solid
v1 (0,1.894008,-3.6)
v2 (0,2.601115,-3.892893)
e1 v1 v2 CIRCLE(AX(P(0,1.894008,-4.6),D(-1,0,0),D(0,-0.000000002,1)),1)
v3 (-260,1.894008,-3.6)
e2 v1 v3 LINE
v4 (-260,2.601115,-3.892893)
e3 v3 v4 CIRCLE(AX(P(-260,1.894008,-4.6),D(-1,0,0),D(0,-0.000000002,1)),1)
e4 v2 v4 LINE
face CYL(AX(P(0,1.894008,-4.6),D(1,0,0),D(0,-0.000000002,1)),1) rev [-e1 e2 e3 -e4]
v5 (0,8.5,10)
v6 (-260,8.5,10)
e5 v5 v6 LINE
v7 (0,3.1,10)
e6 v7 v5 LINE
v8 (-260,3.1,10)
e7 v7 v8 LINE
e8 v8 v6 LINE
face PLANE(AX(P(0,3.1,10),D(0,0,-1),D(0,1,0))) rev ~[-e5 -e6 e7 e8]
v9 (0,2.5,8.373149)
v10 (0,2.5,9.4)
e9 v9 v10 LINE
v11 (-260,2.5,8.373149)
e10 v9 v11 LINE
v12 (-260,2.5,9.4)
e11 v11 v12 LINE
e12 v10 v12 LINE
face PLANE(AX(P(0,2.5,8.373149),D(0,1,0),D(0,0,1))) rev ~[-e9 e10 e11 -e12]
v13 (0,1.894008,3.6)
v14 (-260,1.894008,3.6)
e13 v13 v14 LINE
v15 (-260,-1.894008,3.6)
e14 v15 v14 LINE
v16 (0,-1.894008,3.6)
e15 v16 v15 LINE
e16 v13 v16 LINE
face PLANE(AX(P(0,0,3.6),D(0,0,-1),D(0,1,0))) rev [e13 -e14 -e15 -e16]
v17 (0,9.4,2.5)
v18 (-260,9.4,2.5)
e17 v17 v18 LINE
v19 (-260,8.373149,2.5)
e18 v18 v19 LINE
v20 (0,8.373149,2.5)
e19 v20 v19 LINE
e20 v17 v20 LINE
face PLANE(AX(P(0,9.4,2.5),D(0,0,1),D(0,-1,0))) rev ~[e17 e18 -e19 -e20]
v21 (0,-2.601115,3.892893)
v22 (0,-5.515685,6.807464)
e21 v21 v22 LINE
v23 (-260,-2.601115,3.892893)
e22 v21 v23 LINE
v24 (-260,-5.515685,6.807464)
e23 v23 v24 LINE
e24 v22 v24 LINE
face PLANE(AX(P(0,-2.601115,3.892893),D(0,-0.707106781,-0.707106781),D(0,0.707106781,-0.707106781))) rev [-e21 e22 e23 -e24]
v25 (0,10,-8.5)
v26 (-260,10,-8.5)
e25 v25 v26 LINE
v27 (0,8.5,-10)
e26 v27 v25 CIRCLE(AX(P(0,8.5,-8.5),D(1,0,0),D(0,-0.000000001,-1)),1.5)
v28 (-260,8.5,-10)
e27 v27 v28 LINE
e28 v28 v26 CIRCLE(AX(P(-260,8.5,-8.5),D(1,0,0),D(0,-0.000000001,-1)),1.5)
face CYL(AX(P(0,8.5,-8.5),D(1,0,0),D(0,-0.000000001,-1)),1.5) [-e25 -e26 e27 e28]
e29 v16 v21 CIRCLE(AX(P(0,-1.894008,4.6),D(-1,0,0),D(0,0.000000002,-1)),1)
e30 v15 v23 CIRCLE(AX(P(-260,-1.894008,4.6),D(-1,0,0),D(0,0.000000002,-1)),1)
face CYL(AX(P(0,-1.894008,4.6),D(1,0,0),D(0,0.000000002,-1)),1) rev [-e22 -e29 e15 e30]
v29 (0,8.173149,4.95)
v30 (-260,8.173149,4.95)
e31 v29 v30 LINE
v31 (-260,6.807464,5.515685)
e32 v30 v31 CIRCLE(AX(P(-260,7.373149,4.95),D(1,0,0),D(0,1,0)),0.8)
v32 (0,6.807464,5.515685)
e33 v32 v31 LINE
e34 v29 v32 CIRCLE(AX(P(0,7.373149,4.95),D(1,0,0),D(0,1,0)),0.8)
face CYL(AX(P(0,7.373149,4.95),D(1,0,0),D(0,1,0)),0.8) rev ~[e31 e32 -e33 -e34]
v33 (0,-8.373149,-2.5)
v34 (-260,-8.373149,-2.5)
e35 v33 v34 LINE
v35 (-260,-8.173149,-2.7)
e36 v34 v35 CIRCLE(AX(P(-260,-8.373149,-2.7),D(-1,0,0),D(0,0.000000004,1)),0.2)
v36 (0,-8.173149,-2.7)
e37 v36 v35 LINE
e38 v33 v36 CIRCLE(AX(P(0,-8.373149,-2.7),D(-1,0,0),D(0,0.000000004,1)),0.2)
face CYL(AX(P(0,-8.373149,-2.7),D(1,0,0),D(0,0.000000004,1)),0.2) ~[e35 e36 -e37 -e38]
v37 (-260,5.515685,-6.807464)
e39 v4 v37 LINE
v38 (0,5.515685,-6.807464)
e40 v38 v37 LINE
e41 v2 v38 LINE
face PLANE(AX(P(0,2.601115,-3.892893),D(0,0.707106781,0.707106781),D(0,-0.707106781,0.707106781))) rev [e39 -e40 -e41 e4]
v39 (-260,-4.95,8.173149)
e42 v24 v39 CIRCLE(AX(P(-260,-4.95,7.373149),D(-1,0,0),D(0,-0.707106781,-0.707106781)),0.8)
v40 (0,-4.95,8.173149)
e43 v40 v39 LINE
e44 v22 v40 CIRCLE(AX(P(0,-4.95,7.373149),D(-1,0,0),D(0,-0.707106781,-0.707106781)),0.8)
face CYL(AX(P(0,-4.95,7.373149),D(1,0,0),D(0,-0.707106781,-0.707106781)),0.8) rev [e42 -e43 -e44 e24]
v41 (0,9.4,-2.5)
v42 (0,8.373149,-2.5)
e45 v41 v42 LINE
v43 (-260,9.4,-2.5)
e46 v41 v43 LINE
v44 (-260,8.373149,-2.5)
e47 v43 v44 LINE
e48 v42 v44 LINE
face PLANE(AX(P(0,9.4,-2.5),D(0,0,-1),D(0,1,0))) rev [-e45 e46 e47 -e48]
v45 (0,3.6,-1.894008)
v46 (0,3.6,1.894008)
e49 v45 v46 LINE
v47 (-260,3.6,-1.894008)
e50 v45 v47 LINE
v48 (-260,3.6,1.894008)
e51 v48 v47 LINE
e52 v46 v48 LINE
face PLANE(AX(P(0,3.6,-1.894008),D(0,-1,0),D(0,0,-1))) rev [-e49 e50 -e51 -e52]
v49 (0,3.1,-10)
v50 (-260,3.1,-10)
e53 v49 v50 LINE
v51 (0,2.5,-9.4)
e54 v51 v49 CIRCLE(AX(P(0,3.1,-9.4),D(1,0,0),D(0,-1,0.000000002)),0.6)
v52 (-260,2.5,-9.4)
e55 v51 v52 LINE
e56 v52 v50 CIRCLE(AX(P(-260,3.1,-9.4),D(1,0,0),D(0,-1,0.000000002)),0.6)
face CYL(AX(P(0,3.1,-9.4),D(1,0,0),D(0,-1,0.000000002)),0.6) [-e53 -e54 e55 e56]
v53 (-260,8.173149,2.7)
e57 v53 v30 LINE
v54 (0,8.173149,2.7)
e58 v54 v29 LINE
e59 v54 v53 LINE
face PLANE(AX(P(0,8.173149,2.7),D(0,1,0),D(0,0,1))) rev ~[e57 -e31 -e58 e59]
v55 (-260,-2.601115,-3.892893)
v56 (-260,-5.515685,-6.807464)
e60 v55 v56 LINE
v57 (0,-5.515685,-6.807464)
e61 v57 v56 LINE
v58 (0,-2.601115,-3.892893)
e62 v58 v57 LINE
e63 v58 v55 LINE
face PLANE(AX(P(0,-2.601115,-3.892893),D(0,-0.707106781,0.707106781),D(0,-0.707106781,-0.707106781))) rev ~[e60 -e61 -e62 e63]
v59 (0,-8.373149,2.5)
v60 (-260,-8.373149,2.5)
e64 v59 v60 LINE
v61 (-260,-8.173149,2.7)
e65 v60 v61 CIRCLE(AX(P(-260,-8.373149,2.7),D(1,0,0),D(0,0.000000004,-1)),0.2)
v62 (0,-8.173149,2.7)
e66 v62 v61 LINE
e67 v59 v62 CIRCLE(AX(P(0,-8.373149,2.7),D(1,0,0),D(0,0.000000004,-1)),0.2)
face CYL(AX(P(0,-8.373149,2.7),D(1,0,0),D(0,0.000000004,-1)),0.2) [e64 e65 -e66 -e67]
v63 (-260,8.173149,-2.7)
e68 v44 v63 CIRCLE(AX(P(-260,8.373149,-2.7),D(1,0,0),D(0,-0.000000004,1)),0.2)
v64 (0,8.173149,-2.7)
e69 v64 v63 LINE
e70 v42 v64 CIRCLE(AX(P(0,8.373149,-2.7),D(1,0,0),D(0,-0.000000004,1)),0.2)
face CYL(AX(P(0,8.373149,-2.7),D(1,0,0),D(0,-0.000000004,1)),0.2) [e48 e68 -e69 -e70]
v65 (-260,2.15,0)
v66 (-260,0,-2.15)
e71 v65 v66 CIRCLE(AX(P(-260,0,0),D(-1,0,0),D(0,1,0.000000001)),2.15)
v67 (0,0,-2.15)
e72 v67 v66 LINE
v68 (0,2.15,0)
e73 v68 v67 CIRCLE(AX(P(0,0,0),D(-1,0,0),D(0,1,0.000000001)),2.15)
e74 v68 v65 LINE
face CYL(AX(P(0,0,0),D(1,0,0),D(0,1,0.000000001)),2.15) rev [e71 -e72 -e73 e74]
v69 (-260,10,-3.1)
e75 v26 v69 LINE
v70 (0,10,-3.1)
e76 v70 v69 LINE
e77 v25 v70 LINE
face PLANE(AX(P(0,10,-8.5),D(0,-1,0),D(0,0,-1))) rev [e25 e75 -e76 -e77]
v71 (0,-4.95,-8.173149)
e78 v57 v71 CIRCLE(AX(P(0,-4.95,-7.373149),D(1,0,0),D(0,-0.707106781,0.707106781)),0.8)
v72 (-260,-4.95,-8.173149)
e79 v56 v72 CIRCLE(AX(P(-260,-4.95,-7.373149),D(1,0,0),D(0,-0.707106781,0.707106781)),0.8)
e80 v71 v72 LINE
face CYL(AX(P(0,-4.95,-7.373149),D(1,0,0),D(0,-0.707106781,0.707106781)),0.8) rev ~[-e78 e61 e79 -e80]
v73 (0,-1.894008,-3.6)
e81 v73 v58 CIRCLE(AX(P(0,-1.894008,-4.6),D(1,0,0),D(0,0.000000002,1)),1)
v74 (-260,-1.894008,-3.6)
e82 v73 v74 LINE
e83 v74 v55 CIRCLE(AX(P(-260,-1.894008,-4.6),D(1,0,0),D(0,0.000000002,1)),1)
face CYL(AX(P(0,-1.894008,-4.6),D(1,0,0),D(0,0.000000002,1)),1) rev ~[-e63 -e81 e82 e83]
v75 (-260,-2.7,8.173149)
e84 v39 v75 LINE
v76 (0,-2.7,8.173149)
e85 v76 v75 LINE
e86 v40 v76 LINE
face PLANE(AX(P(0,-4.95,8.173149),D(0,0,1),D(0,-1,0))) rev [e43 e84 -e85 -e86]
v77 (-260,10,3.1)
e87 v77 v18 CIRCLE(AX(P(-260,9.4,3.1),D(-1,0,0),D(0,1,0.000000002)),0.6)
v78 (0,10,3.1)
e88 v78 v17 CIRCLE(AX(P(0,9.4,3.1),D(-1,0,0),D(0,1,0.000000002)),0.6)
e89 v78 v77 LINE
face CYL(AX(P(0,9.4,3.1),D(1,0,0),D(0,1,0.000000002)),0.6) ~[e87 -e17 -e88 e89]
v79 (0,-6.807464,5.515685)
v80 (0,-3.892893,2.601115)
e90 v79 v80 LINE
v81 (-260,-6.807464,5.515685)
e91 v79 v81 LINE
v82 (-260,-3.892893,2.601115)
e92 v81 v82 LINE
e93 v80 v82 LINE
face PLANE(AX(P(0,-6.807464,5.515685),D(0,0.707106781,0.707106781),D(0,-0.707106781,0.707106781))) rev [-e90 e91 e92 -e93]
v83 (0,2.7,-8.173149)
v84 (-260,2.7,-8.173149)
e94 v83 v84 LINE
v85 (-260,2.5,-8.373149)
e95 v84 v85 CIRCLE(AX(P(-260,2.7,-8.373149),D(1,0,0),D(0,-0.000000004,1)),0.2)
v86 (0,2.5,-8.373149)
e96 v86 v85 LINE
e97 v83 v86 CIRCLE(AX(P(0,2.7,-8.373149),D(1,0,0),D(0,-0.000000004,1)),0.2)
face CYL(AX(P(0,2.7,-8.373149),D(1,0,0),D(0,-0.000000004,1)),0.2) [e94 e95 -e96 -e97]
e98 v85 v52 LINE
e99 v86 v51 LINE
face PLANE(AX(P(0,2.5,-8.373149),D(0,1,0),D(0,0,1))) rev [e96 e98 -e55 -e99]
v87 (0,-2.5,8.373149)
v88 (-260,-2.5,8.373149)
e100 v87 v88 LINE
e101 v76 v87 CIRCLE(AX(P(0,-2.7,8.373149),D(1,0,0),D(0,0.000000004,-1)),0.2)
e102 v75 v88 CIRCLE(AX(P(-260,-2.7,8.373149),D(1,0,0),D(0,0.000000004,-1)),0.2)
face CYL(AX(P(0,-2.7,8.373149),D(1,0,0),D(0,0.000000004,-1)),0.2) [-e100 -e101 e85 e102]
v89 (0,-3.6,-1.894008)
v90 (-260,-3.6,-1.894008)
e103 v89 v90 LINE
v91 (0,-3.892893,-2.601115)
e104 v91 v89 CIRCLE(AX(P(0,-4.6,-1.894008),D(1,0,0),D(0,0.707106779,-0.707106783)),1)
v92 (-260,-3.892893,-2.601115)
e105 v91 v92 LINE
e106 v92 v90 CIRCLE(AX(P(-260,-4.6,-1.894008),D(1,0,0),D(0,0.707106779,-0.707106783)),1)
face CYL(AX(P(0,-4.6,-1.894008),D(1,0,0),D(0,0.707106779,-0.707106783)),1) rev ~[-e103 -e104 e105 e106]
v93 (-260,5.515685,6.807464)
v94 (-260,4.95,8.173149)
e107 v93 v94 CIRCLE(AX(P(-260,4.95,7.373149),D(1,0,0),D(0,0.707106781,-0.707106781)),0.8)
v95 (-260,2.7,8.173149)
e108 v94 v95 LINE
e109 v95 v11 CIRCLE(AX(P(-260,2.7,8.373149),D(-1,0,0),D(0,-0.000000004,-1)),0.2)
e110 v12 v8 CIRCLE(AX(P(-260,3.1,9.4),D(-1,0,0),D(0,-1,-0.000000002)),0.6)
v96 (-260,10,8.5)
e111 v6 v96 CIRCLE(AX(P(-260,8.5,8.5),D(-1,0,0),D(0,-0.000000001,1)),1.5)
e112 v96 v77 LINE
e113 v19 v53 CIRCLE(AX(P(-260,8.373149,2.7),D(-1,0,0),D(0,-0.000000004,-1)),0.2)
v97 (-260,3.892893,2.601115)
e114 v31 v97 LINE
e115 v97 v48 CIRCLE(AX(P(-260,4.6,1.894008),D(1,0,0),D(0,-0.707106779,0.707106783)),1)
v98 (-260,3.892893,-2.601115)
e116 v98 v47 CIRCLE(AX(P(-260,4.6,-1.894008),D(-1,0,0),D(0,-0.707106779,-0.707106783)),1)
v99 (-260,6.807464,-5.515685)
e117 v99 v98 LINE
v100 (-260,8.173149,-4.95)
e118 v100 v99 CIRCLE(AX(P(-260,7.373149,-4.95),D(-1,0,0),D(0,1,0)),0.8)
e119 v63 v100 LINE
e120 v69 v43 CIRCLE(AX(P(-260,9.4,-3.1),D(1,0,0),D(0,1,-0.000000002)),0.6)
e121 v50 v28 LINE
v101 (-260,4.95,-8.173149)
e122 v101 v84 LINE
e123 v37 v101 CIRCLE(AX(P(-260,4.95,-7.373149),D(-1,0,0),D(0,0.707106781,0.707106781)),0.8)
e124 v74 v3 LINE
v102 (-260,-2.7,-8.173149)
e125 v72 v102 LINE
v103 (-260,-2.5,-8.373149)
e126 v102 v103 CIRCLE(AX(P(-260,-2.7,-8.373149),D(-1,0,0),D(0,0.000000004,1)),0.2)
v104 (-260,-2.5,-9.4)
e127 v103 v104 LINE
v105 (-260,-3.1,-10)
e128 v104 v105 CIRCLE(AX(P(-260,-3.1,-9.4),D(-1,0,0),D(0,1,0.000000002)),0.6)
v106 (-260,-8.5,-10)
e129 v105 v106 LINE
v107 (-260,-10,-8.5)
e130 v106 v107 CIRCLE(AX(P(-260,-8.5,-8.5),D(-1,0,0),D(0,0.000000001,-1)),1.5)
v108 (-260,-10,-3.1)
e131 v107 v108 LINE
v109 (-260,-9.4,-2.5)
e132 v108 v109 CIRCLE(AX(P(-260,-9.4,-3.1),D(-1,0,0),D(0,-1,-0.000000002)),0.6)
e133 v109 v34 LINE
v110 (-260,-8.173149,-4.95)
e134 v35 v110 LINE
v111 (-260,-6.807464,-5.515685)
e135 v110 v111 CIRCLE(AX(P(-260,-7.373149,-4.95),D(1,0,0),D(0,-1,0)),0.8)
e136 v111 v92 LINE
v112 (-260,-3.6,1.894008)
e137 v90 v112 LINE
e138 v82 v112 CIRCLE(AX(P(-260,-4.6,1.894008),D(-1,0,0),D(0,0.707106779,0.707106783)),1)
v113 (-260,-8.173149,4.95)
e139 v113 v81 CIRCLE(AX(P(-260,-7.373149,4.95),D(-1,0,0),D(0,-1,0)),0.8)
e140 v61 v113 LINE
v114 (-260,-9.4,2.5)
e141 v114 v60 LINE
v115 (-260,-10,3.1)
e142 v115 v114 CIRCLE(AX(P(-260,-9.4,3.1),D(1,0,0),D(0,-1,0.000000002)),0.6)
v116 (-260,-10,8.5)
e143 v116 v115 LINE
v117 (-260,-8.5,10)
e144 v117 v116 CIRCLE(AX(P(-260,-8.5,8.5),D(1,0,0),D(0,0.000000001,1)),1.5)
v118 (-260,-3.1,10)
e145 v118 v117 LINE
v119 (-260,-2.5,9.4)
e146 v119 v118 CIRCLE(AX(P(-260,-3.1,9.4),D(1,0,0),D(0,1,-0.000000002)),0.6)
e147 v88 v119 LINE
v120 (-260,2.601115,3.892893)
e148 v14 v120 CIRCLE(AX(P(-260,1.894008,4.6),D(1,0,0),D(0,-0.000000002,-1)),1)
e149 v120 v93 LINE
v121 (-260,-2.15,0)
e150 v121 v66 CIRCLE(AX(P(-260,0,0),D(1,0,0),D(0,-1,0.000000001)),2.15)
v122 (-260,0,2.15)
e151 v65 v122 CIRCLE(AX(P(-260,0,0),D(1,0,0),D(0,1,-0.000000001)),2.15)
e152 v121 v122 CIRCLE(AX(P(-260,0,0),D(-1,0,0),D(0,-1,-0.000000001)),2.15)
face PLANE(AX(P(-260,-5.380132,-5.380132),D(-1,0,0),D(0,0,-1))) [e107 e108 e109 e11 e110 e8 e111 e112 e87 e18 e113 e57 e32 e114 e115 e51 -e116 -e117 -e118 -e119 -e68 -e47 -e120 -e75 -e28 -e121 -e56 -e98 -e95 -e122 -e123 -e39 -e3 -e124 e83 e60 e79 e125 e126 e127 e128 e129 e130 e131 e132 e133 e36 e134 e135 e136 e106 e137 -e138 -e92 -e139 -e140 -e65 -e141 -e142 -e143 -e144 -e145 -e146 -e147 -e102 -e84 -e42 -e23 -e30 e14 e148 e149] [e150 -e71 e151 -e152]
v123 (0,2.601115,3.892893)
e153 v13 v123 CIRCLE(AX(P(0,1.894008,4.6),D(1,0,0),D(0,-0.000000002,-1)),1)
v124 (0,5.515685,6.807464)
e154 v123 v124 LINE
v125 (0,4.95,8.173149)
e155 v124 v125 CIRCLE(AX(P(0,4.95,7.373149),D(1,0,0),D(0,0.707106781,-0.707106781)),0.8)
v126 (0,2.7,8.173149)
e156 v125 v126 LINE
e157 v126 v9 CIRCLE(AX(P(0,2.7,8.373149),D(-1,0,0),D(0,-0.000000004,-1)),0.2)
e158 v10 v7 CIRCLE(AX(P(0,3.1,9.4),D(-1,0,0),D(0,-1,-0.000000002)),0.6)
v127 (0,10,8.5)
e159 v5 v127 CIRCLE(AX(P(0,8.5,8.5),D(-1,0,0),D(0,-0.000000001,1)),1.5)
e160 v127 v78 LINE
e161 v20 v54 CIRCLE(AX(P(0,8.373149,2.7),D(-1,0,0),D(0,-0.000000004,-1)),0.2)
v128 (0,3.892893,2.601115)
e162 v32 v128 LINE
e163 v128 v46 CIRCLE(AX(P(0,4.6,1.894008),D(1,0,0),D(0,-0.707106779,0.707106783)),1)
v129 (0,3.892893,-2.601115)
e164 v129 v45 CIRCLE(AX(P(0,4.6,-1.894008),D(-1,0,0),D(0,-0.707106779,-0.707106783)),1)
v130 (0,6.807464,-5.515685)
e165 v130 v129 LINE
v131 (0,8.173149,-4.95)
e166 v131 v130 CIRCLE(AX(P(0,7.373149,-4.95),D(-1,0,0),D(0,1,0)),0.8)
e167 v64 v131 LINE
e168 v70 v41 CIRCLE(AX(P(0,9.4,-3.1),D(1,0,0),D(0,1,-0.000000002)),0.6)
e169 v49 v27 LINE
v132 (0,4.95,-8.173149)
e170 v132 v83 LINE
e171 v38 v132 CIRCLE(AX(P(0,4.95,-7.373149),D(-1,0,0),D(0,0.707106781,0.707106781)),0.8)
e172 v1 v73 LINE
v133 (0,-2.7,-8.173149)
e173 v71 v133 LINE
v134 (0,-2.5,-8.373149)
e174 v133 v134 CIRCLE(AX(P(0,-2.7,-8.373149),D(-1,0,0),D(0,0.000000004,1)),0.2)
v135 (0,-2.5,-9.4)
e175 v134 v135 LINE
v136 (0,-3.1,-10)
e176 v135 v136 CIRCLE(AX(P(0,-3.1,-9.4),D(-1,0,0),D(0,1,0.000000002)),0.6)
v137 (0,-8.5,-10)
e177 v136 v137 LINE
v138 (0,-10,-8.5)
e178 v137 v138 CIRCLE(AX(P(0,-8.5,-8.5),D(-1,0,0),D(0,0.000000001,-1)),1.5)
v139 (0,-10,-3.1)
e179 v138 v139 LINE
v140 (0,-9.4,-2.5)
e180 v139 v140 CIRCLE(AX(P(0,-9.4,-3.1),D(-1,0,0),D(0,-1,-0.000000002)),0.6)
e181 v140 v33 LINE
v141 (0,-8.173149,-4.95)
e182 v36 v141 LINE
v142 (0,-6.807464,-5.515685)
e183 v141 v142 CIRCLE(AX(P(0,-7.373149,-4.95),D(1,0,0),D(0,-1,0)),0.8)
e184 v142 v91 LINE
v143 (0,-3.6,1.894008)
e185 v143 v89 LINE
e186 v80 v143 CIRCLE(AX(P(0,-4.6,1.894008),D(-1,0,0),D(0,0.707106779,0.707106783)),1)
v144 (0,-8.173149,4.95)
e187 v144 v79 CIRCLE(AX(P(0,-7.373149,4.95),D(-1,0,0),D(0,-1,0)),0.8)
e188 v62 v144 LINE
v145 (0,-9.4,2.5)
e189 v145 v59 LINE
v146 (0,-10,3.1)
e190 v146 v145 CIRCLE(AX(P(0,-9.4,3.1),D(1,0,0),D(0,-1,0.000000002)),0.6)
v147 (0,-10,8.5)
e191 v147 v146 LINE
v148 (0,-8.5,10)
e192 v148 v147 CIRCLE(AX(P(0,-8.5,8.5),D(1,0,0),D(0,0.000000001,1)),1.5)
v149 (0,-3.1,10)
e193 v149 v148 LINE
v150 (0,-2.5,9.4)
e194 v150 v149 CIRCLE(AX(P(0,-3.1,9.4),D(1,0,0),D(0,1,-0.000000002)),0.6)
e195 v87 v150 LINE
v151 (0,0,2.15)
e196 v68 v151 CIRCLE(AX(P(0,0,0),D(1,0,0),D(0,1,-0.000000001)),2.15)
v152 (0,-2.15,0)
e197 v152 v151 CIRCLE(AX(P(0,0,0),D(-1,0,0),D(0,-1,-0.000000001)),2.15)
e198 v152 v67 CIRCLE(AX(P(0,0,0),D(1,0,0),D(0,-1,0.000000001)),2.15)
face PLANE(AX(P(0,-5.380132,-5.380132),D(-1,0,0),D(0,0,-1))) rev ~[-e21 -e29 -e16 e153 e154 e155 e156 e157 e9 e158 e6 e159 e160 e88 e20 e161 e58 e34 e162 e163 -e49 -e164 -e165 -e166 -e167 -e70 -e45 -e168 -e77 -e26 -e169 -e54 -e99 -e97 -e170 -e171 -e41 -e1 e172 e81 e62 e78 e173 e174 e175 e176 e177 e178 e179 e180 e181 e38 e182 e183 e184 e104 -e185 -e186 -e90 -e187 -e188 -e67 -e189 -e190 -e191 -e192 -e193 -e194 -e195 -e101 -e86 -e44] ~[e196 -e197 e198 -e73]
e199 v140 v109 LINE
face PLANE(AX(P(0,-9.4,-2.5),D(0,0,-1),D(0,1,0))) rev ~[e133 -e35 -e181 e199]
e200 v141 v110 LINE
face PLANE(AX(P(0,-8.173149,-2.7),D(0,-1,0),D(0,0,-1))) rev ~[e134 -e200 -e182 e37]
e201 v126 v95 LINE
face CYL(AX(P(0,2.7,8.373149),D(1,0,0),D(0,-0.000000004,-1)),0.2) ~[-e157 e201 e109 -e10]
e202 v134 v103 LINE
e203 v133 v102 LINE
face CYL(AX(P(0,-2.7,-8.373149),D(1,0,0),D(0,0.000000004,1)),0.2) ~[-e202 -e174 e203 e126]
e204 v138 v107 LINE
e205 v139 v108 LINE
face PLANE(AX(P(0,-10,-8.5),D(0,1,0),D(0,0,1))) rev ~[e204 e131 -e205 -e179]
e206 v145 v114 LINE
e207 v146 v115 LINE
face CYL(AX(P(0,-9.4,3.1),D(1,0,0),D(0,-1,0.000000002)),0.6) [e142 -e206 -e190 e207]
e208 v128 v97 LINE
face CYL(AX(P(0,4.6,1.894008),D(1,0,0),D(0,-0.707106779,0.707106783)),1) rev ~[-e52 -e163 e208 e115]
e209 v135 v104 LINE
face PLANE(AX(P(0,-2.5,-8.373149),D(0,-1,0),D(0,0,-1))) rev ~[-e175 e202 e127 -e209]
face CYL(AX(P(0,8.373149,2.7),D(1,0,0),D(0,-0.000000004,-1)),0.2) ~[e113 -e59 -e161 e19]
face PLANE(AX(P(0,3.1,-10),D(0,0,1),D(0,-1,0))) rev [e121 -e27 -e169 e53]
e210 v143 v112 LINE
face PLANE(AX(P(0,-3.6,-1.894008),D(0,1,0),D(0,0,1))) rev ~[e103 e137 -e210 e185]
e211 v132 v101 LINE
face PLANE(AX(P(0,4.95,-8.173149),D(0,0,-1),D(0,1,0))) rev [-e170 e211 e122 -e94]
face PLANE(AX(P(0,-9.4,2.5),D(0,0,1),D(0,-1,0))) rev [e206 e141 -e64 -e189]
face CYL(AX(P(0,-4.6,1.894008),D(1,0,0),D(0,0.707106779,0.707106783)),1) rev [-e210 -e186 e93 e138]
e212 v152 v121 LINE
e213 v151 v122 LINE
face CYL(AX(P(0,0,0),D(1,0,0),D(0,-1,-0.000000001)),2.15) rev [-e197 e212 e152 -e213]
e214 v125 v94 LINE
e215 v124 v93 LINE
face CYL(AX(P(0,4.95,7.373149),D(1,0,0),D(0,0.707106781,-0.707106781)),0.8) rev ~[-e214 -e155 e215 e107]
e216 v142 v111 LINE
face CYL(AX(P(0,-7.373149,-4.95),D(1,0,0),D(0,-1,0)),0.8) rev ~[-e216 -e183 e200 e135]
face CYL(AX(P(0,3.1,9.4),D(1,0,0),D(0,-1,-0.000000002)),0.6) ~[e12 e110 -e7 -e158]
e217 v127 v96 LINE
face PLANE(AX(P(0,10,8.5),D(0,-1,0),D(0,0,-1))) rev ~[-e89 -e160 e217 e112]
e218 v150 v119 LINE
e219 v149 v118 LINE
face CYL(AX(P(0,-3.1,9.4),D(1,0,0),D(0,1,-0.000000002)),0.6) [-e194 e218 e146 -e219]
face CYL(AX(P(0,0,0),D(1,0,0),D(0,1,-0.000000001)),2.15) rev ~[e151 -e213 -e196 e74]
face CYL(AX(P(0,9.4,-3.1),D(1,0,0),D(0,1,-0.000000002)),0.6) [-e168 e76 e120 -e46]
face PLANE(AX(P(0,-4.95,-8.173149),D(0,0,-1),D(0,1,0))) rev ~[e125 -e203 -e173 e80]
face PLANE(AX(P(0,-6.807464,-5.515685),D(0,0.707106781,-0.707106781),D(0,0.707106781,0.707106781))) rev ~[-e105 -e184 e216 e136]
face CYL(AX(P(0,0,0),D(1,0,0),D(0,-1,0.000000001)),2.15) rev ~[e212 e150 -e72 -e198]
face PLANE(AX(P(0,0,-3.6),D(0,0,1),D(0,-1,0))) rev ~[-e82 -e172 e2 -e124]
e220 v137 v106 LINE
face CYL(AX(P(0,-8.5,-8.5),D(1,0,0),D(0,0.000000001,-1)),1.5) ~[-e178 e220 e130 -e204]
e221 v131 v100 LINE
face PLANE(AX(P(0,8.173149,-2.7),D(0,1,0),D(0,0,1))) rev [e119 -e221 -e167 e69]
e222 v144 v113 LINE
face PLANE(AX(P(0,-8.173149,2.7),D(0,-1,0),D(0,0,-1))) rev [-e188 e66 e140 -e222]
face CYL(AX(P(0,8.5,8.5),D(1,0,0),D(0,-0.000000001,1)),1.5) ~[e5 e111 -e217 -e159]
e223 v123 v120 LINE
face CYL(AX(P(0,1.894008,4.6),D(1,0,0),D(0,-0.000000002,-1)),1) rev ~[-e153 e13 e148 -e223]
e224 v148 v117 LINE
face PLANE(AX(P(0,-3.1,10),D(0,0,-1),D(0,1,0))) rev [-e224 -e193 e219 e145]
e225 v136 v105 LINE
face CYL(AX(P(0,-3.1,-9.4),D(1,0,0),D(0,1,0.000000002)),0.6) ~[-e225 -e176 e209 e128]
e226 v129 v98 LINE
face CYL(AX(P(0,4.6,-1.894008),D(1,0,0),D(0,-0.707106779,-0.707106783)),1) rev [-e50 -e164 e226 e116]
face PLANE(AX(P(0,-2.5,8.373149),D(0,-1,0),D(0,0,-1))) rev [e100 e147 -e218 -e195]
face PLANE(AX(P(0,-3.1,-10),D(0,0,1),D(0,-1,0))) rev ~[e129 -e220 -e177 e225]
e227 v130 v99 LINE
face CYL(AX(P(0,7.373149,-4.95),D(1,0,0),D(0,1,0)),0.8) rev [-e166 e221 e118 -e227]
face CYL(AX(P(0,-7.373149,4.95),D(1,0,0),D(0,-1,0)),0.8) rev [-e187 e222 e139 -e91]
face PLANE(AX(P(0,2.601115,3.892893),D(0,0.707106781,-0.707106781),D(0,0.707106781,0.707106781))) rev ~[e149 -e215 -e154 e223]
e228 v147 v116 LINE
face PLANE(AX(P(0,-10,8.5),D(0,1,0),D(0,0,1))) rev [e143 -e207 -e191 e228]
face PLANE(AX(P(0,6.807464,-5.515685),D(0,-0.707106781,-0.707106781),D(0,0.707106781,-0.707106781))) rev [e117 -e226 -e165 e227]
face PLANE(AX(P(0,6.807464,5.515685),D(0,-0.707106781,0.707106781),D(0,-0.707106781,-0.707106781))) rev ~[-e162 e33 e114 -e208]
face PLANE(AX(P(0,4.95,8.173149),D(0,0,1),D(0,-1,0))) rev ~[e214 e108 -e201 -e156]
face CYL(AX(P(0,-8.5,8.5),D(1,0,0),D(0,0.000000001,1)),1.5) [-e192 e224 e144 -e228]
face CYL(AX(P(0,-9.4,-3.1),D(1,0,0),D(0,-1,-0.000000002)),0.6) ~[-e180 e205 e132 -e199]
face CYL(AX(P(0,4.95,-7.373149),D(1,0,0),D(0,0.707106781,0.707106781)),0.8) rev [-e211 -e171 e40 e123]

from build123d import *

# Parameters (mm, degrees)
BOSS_EXTRUDE1_DEPTH = 260


with BuildPart() as part:
    # Sketch3 → Boss-Extrude1 (new body)
    with BuildSketch(Plane(origin=(0, 0, 0), x_dir=(0, 0, -1), z_dir=(1, 0, 0))):
        with BuildLine():
            Line((-5.515685425, 6.807463915), (-2.601114729, 3.892893219))
            ThreePointArc((-2.601114729, 3.892893219), (-2.27669138, 3.676120467), (-1.894007948, 3.6))
            Line((-1.894007948, 3.6), (0, 3.6))
            Line((0, 3.6), (0, 2.15))
            ThreePointArc((0, 2.15), (-1.52027958, 1.52027958), (-2.15, 0))
            Line((-2.15, 0), (-3.6, 0))
            Line((-3.6, 0), (-3.6, 1.894007948))
            ThreePointArc((-3.6, 1.894007948), (-3.676120467, 2.27669138), (-3.892893219, 2.601114729))
            Line((-3.892893219, 2.601114729), (-6.807463915, 5.515685425))
            ThreePointArc((-6.807463915, 5.515685425), (-7.679296086, 5.689103626), (-8.17314934, 4.95))
            Line((-8.17314934, 4.95), (-8.17314934, 2.7))
            ThreePointArc((-8.17314934, 2.7), (-8.231727984, 2.558578644), (-8.37314934, 2.5))
            Line((-8.37314934, 2.5), (-9.4, 2.5))
            ThreePointArc((-9.4, 2.5), (-9.824264069, 2.675735931), (-10, 3.1))
            Line((-10, 3.1), (-10, 8.5))
            ThreePointArc((-10, 8.5), (-9.560660172, 9.560660172), (-8.5, 10))
            Line((-8.5, 10), (-3.1, 10))
            ThreePointArc((-3.1, 10), (-2.675735931, 9.824264069), (-2.5, 9.4))
            Line((-2.5, 9.4), (-2.5, 8.37314934))
            ThreePointArc((-2.5, 8.37314934), (-2.558578644, 8.231727984), (-2.7, 8.17314934))
            Line((-2.7, 8.17314934), (-4.95, 8.17314934))
            ThreePointArc((-4.95, 8.17314934), (-5.689103626, 7.679296086), (-5.515685425, 6.807463915))
        make_face()
    extrude(amount=-BOSS_EXTRUDE1_DEPTH)

    # Mirror1: part across plane


with BuildPart() as part_1:
    add(part.part)
    add(part.part.mirror(Plane.ZX))

    # Mirror2: part across plane


with BuildPart() as part_2:
    add(part_1.part)
    add(part_1.part.mirror(Plane.XY))


solid = part_2.part
